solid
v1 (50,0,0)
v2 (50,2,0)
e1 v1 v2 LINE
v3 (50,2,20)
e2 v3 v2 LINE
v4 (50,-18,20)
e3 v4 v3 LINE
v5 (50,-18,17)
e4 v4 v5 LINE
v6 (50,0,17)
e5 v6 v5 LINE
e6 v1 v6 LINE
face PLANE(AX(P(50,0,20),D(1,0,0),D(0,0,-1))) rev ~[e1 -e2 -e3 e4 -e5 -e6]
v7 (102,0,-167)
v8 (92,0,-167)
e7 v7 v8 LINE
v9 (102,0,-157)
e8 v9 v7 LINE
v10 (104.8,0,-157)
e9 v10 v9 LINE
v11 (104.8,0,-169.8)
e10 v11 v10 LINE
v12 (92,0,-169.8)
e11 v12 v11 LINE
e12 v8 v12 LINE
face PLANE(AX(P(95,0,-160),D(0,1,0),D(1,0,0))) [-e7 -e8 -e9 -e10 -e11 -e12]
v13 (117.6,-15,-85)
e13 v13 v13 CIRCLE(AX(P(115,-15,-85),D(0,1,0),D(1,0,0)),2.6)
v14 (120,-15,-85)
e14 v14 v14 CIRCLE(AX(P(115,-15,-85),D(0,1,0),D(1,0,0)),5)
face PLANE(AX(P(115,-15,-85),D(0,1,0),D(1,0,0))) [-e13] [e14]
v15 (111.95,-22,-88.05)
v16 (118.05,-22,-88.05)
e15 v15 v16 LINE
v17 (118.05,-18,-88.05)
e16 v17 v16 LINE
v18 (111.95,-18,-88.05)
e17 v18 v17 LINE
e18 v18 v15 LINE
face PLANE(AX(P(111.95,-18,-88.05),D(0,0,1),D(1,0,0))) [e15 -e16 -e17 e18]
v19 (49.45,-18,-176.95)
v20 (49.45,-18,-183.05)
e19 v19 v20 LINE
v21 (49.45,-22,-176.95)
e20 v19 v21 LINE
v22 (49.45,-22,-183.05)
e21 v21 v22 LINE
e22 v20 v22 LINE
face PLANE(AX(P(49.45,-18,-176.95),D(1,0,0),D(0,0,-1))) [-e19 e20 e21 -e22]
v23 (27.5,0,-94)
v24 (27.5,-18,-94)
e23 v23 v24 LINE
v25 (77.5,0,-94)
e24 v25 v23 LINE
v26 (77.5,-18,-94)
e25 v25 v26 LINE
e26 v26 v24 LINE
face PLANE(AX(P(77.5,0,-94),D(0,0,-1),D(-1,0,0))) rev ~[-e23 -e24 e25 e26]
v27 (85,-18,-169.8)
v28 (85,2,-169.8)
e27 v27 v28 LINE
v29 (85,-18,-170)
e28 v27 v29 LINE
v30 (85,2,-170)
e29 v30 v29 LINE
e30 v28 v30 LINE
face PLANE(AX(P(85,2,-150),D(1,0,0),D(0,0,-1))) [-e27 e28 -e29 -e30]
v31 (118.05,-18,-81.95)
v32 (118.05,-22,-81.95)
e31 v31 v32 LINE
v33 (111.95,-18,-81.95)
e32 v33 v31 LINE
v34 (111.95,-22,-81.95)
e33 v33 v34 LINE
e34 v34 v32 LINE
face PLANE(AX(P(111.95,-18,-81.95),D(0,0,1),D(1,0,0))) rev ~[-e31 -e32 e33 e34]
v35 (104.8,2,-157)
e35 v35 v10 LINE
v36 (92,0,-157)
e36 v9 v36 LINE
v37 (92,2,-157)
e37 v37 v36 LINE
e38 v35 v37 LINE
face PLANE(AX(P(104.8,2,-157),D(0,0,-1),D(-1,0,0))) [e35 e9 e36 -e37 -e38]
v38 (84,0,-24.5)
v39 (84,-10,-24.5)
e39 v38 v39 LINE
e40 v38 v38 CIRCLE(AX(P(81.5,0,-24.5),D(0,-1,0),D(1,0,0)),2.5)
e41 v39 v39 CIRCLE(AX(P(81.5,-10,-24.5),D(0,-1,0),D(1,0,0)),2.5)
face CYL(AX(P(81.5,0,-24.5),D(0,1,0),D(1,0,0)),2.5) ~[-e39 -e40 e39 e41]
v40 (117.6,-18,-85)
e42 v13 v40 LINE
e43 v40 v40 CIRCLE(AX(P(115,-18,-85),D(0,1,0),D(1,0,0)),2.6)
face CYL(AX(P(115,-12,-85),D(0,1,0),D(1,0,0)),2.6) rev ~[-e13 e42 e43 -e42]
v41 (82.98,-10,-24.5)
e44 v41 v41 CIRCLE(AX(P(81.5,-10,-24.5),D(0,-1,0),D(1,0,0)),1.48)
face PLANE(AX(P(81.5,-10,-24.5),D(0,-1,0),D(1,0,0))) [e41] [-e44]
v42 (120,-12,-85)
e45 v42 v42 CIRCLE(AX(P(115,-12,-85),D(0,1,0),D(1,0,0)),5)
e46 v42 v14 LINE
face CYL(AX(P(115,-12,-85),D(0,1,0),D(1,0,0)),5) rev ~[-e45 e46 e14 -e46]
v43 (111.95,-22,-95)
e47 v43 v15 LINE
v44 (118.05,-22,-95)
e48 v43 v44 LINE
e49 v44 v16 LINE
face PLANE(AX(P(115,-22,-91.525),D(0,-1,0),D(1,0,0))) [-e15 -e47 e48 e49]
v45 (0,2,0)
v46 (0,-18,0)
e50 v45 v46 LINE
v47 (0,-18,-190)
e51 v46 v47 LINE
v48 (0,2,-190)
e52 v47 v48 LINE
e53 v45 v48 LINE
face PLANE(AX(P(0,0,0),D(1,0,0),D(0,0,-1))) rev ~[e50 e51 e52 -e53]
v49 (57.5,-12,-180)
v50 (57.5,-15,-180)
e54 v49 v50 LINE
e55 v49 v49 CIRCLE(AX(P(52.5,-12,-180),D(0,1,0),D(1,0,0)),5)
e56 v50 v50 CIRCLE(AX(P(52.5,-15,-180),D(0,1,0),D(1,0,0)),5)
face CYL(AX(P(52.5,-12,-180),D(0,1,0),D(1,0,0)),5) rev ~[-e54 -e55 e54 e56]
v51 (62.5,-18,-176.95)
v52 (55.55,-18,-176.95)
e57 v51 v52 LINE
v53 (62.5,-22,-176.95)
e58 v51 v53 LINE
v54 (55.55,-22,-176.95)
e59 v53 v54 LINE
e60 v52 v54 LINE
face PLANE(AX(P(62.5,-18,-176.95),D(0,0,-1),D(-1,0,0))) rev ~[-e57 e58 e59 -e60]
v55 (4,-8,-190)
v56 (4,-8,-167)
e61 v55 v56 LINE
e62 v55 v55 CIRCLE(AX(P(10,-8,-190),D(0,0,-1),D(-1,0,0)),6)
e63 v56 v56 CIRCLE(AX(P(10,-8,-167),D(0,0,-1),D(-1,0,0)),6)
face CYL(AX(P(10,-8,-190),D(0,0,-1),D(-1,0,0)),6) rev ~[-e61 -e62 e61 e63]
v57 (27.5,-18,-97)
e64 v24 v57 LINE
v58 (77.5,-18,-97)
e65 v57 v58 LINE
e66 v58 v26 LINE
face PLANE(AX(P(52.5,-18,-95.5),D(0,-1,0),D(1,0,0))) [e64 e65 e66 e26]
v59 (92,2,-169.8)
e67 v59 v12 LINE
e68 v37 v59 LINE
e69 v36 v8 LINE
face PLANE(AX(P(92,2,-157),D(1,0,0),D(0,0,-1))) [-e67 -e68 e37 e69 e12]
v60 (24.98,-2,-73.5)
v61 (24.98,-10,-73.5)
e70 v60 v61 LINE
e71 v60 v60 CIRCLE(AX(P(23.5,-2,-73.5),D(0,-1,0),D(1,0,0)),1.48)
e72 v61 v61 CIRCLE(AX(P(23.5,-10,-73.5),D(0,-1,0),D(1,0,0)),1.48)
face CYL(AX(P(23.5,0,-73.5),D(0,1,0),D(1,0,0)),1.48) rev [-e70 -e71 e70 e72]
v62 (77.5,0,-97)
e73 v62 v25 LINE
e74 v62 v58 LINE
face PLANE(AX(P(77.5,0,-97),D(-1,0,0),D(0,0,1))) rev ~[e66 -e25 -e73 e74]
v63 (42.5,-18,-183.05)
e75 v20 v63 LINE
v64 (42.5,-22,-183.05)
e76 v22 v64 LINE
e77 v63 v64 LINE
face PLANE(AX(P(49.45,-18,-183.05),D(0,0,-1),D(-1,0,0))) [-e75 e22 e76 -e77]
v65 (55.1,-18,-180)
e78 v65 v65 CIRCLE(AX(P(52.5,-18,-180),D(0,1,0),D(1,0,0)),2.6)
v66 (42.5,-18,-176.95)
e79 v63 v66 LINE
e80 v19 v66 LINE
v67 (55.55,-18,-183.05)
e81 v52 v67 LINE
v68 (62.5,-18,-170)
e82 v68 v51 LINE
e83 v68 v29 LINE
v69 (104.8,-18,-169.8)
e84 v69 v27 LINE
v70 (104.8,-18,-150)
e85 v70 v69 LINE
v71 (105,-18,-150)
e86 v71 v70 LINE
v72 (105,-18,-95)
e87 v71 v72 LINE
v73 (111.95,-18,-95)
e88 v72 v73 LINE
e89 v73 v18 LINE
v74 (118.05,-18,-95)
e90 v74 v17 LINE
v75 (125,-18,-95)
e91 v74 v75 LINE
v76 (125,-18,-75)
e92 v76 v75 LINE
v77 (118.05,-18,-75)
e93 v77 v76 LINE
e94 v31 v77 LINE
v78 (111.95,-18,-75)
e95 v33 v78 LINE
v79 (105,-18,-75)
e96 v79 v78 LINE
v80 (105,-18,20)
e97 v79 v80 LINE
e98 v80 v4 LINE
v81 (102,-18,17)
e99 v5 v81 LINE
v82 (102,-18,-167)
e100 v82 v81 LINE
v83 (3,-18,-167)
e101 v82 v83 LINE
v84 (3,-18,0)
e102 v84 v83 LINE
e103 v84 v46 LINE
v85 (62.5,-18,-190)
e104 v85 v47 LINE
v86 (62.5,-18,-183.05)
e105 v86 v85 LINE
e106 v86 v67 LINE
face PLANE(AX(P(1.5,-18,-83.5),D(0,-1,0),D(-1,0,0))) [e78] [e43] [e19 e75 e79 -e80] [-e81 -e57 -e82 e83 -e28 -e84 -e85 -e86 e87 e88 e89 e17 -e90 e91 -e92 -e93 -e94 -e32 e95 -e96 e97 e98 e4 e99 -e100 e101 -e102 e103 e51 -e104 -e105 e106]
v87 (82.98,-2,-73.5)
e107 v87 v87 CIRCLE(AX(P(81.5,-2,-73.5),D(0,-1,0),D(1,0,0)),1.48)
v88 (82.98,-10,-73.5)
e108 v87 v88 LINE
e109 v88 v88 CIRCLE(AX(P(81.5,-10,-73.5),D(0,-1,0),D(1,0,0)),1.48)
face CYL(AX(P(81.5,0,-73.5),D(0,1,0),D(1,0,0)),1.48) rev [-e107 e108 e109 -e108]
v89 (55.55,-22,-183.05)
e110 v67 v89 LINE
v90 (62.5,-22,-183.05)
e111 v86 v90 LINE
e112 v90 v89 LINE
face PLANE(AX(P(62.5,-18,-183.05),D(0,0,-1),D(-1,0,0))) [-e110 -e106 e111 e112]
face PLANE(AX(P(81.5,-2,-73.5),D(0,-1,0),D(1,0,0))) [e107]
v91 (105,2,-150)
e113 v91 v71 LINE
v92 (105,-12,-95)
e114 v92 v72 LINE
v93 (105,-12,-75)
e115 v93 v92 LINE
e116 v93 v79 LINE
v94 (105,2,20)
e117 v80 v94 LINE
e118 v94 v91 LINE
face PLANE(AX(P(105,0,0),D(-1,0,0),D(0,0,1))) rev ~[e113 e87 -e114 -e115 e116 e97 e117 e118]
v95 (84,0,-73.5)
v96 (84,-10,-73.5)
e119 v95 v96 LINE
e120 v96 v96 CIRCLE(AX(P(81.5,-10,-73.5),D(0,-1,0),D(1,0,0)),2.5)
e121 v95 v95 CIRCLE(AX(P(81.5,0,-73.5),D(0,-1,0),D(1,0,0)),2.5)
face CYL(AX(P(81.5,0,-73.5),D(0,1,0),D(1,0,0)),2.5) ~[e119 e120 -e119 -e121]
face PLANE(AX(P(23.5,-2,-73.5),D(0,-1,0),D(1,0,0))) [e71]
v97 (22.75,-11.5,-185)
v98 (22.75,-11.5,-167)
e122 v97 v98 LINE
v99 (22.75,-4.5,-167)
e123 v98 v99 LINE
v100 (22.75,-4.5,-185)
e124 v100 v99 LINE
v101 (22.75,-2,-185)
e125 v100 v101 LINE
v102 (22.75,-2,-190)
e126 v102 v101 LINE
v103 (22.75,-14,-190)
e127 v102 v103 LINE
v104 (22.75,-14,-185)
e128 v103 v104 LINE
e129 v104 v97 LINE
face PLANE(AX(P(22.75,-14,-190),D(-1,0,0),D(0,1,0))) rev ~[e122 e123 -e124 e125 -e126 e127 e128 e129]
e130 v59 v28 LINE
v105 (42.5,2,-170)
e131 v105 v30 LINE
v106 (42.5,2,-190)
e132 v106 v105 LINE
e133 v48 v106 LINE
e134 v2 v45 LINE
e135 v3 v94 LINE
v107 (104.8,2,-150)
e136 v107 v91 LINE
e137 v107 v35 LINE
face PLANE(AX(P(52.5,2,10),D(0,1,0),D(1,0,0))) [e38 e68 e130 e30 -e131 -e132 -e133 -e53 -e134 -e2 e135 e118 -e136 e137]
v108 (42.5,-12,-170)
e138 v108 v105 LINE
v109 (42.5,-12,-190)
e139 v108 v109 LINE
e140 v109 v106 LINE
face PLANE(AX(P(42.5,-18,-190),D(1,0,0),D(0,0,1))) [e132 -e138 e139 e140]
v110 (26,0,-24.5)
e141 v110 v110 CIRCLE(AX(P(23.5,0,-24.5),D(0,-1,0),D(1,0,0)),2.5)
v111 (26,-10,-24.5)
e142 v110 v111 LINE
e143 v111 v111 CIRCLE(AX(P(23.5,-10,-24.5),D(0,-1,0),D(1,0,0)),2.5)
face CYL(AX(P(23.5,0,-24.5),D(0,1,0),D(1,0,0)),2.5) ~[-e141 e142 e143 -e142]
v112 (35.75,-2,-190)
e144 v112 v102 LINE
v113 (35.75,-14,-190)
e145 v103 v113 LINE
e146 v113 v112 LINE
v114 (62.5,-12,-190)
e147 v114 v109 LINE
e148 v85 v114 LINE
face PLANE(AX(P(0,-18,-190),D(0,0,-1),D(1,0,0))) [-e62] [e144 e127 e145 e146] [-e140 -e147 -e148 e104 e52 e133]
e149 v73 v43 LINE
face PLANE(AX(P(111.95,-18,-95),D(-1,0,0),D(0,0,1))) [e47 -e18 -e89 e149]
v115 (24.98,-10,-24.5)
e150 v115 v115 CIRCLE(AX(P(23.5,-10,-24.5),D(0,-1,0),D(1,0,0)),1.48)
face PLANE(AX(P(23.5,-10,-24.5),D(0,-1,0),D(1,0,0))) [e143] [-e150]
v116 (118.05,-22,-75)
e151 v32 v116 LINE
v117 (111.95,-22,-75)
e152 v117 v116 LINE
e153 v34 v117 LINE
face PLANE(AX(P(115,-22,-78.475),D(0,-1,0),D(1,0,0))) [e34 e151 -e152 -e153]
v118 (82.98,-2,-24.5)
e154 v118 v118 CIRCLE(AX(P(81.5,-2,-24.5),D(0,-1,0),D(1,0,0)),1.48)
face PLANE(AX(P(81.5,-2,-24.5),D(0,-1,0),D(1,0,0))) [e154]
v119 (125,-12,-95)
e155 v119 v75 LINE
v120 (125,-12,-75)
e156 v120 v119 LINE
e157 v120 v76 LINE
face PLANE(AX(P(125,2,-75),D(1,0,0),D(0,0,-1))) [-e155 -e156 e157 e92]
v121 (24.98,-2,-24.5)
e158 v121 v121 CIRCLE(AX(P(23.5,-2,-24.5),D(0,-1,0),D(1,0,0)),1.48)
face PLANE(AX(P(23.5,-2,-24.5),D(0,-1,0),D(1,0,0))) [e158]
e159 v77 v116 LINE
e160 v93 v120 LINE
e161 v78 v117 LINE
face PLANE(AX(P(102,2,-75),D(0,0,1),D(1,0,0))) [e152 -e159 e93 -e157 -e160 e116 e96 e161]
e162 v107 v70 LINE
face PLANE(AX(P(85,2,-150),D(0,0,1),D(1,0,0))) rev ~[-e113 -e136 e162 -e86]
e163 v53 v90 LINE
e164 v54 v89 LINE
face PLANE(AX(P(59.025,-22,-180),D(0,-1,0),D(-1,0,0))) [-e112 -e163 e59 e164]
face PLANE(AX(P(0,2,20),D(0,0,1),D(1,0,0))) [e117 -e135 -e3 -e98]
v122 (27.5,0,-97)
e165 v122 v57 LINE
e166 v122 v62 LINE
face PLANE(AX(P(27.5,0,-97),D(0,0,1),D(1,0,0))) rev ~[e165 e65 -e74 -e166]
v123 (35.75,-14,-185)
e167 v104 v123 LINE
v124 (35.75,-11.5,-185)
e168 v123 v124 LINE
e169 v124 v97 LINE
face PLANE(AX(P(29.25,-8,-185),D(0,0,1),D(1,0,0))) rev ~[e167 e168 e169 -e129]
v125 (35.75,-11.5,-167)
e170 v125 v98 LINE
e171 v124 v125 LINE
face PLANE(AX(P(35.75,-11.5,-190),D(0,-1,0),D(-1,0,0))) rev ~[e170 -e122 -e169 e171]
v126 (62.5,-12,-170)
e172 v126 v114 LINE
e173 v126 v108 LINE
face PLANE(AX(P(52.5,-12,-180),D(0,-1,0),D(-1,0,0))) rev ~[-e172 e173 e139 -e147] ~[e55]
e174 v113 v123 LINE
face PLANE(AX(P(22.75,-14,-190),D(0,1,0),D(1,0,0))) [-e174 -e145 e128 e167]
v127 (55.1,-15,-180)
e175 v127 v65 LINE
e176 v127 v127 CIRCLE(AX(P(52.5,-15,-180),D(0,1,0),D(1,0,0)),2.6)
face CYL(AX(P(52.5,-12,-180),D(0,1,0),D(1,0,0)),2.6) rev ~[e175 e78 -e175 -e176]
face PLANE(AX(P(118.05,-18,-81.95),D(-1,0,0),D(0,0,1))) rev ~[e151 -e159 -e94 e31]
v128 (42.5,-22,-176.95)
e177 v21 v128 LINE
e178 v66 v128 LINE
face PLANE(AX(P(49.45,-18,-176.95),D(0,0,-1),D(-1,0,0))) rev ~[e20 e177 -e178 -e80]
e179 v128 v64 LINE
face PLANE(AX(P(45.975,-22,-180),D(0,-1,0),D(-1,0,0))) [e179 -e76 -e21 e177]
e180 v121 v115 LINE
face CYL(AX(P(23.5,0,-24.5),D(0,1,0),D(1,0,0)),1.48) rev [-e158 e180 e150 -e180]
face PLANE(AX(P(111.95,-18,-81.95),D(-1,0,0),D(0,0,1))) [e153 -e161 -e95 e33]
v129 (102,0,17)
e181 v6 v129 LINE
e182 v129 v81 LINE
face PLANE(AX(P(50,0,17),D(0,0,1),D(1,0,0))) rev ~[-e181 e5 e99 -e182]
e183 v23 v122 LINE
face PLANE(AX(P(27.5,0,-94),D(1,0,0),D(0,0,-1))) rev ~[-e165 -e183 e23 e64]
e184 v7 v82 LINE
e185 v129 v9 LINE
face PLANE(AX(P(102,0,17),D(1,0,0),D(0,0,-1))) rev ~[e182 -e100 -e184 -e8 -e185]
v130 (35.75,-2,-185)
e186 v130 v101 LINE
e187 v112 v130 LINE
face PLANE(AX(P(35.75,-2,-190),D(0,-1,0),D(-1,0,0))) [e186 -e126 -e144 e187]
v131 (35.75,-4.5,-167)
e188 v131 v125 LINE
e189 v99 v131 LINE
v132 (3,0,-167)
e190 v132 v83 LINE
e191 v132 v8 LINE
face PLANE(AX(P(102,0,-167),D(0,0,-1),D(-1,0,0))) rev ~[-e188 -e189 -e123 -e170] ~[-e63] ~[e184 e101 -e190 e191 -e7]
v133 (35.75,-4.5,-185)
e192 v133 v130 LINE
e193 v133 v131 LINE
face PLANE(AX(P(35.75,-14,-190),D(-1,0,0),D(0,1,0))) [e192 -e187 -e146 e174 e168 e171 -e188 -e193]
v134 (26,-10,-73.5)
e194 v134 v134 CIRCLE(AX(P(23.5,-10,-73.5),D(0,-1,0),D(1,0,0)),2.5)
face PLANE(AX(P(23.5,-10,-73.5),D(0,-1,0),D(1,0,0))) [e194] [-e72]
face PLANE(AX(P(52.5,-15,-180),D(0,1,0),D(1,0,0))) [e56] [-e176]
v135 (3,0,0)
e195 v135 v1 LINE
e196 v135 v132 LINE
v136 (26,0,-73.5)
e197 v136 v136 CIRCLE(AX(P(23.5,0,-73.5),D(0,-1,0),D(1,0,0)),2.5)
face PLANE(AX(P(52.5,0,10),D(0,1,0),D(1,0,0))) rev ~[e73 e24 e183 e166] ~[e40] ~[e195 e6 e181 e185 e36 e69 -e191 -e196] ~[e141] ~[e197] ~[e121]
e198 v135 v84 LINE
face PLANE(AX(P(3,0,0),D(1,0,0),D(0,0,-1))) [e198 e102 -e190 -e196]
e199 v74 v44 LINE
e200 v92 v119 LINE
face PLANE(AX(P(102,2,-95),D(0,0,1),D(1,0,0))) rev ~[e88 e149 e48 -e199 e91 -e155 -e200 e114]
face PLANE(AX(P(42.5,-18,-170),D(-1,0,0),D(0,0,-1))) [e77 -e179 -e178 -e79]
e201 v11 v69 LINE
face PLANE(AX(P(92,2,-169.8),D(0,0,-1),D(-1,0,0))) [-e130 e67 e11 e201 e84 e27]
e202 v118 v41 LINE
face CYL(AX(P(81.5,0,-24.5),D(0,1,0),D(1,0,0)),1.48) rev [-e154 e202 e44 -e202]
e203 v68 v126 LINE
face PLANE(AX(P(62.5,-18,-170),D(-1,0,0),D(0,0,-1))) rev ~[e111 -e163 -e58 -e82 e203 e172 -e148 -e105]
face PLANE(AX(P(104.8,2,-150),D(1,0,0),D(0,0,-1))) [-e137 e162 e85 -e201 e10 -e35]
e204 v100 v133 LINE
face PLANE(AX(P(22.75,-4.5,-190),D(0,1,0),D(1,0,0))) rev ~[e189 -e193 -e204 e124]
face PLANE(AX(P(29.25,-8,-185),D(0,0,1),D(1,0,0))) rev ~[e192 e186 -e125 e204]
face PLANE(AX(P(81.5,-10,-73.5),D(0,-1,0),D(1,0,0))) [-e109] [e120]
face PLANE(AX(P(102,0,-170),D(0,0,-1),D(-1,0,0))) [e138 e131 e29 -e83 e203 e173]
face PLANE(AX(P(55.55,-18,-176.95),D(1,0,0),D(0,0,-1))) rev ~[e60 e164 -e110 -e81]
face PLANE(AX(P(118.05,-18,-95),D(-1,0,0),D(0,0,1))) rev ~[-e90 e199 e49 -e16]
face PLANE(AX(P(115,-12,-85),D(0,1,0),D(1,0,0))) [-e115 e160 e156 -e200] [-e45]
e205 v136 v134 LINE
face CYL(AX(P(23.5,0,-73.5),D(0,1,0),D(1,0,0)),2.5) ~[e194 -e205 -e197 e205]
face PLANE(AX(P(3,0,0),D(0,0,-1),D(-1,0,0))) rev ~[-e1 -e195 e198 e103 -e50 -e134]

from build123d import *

# Parameters (mm, degrees)
SKETCH_1_W           = 105
SKETCH_1_H           = 170
EXTRUDE_1_DEPTH      = 2
SKETCH_2_W           = 23
SKETCH_2_H           = 20
EXTRUDE_2_DEPTH      = 20
SKETCH_3_W           = 20
SKETCH_3_H           = 20
CUT_EXTRUDE_1_DEPTH  = 14
SKETCH_4_R           = 2.6
CUT_EXTRUDE_2_DEPTH  = 14
SKETCH_5_R           = 5
CUT_EXTRUDE_3_DEPTH  = 3
SKETCH_6_W           = 3
SKETCH_6_H           = 75
EXTRUDE_3_DEPTH      = 18
SKETCH_7_W           = 102
SKETCH_7_H           = 3
EXTRUDE_4_DEPTH      = 18
SKETCH_8_W           = 20
SKETCH_8_H           = 20
EXTRUDE_5_DEPTH      = 6
SKETCH_9_R           = 2.6
CUT_EXTRUDE_4_DEPTH  = 6
SKETCH_10_R          = 5
CUT_EXTRUDE_5_DEPTH  = 3
SKETCH_11_W          = 6.1
SKETCH_11_H          = 6.95
EXTRUDE_6_DEPTH      = 4
SKETCH_12_W          = 6.95
SKETCH_12_H          = 6.1
EXTRUDE_7_DEPTH      = 4
SKETCH_13_W          = 55
SKETCH_13_H          = 3
EXTRUDE_8_DEPTH      = 20
SKETCH_14_W          = 20
SKETCH_14_H          = 20
CUT_EXTRUDE_6_DEPTH  = 2
SKETCH_15_W          = 42.5
SKETCH_15_H          = 20
EXTRUDE_9_DEPTH      = 20
SKETCH_16_R          = 6
CUT_EXTRUDE_7_DEPTH  = 30
CUT_EXTRUDE_9_DEPTH  = 30
CUT_EXTRUDE_10_DEPTH = 30
EXTRUDE_17_DEPTH     = 2
CUT_EXTRUDE_11_DEPTH = 5
SKETCH_25_W          = 52
SKETCH_25_H          = 3
CUT_EXTRUDE_12_DEPTH = 18
SKETCH_26_W          = 105
SKETCH_26_H          = 20
EXTRUDE_18_DEPTH     = 2
EXTRUDE_19_DEPTH     = 18
SKETCH_28_W          = 50
SKETCH_28_H          = 20
CUT_EXTRUDE_13_DEPTH = 18
SKETCH_29_W          = 3
SKETCH_29_H          = 167
EXTRUDE_20_DEPTH     = 18
SKETCH_30_R          = 2.5
SKETCH_30_R_2        = 1.48
EXTRUDE_21_DEPTH     = 10
SKETCH_31_R          = 1.48
EXTRUDE_22_DEPTH     = 2
EXTRUDE_24_DEPTH     = 18


with BuildPart() as part:
    # 草图1 → 凸台-拉伸1 (new body)
    with BuildSketch(Plane(origin=(0, 0, 0), x_dir=(1, 0, 0), z_dir=(0, 1, 0))):
        with Locations((52.5, 85)):
            Rectangle(SKETCH_1_W, SKETCH_1_H)
    extrude(amount=EXTRUDE_1_DEPTH)

    # 草图2 → 凸台-拉伸2 (add)
    with BuildSketch(Plane(origin=(0, 2, 0), x_dir=(1, 0, 0), z_dir=(0, 1, 0))):
        with Locations((113.5, 85)):
            Rectangle(SKETCH_2_W, SKETCH_2_H)
    extrude(amount=-EXTRUDE_2_DEPTH)

    # 草图3 → 切除-拉伸1 (cut)
    with BuildSketch(Plane(origin=(0, 2, 0), x_dir=(1, 0, 0), z_dir=(0, 1, 0))):
        with Locations((115, 85)):
            Rectangle(SKETCH_3_W, SKETCH_3_H)
    extrude(amount=-CUT_EXTRUDE_1_DEPTH, mode=Mode.SUBTRACT)

    # 草图4 → 切除-拉伸2 (cut)
    with BuildSketch(Plane(origin=(0, -12, 0), x_dir=(1, 0, 0), z_dir=(0, 1, 0))):
        with Locations((115, 85)):
            Circle(SKETCH_4_R)
    extrude(amount=-CUT_EXTRUDE_2_DEPTH, mode=Mode.SUBTRACT)

    # 草图5 → 切除-拉伸3 (cut)
    with BuildSketch(Plane(origin=(0, -12, 0), x_dir=(1, 0, 0), z_dir=(0, 1, 0))):
        with Locations((115, 85)):
            Circle(SKETCH_5_R)
    extrude(amount=-CUT_EXTRUDE_3_DEPTH, mode=Mode.SUBTRACT)

    # 草图6 → 凸台-拉伸3 (add)
    with BuildSketch(Plane.XZ):
        with Locations((103.5, -132.5)):
            Rectangle(SKETCH_6_W, SKETCH_6_H)
        with Locations((103.5, -37.5)):
            Rectangle(SKETCH_6_W, SKETCH_6_H)
    extrude(amount=EXTRUDE_3_DEPTH)

    # 草图7 → 凸台-拉伸4 (add)
    with BuildSketch(Plane(origin=(0, 0, 0), x_dir=(-1, 0, 0), z_dir=(0, -1, 0))):
        with Locations((-51, 168.5)):
            Rectangle(SKETCH_7_W, SKETCH_7_H)
    extrude(amount=EXTRUDE_4_DEPTH)

    # 草图8 → 凸台-拉伸5 (add)
    with BuildSketch(Plane(origin=(0, -18, 0), x_dir=(-1, 0, 0), z_dir=(0, -1, 0))):
        with Locations((-52.5, 180)):
            Rectangle(SKETCH_8_W, SKETCH_8_H)
    extrude(amount=-EXTRUDE_5_DEPTH)

    # 草图9 → 切除-拉伸4 (cut)
    with BuildSketch(Plane(origin=(0, -12, 0), x_dir=(1, 0, 0), z_dir=(0, 1, 0))):
        with Locations((52.5, 180)):
            Circle(SKETCH_9_R)
    extrude(amount=-CUT_EXTRUDE_4_DEPTH, mode=Mode.SUBTRACT)

    # 草图10 → 切除-拉伸5 (cut)
    with BuildSketch(Plane(origin=(0, -12, 0), x_dir=(1, 0, 0), z_dir=(0, 1, 0))):
        with Locations((52.5, 180)):
            Circle(SKETCH_10_R)
    extrude(amount=-CUT_EXTRUDE_5_DEPTH, mode=Mode.SUBTRACT)

    # 草图11 → 凸台-拉伸6 (add)
    with BuildSketch(Plane.XZ.offset(18)):
        with Locations((115, -78.475)):
            Rectangle(SKETCH_11_W, SKETCH_11_H)
        with Locations((115, -91.525)):
            Rectangle(SKETCH_11_W, SKETCH_11_H)
    extrude(amount=EXTRUDE_6_DEPTH)

    # 草图12 → 凸台-拉伸7 (add)
    with BuildSketch(Plane(origin=(0, -18, 0), x_dir=(-1, 0, 0), z_dir=(0, -1, 0))):
        with Locations((-59.025, 180)):
            Rectangle(SKETCH_12_W, SKETCH_12_H)
        with Locations((-45.975, 180)):
            Rectangle(SKETCH_12_W, SKETCH_12_H)
    extrude(amount=EXTRUDE_7_DEPTH)

    # 草图13 → 凸台-拉伸8 (add)
    with BuildSketch(Plane(origin=(0, 2, 0), x_dir=(1, 0, 0), z_dir=(0, 1, 0))):
        with Locations((77.5, 1.5)):
            Rectangle(SKETCH_13_W, SKETCH_13_H)
    extrude(amount=-EXTRUDE_8_DEPTH)

    # 草图14 → 切除-拉伸6 (cut)
    with BuildSketch(Plane(origin=(0, 2, 0), x_dir=(1, 0, 0), z_dir=(0, 1, 0))):
        with Locations((95, 160)):
            Rectangle(SKETCH_14_W, SKETCH_14_H)
    extrude(amount=-CUT_EXTRUDE_6_DEPTH, mode=Mode.SUBTRACT)

    # 草图15 → 凸台-拉伸9 (add)
    with BuildSketch(Plane.XZ.offset(18)):
        with Locations((21.25, -180)):
            Rectangle(SKETCH_15_W, SKETCH_15_H)
    extrude(amount=-EXTRUDE_9_DEPTH)

    # 草图16 → 切除-拉伸7 (cut)
    with BuildSketch(Plane(origin=(0, 0, -190), x_dir=(-1, 0, 0), z_dir=(0, 0, -1))):
        with Locations((-10, -8)):
            Circle(SKETCH_16_R)
    extrude(amount=-CUT_EXTRUDE_7_DEPTH, mode=Mode.SUBTRACT)

    # 草图17 → 切除-拉伸9 (cut)
    with BuildSketch(Plane(origin=(0, 0, -190), x_dir=(-1, 0, 0), z_dir=(0, 0, -1))):
        Polygon((-22.75, -4.5), (-29.25, -4.5), (-35.75, -4.5), (-35.75, -11.5), (-29.25, -11.5), (-22.75, -11.5), align=None)
    extrude(amount=-CUT_EXTRUDE_9_DEPTH, mode=Mode.SUBTRACT)

    # 草图19 → 切除-拉伸10 (cut)
    with BuildSketch(Plane(origin=(0, 0, 0), x_dir=(1, 0, 0), z_dir=(0, 1, 0))):
        Polygon((105, 150), (105, 170), (85, 170), (85, 169.8), (104.8, 169.8), (104.8, 150), align=None)
    extrude(amount=-CUT_EXTRUDE_10_DEPTH, mode=Mode.SUBTRACT)

    # 草图21 → 凸台-拉伸17 (add)
    with BuildSketch(Plane(origin=(0, 2, 0), x_dir=(1, 0, 0), z_dir=(0, 1, 0))):
        Polygon((102, 157), (92, 157), (92, 167), (92, 169.8), (85, 169.8), (85, 167), (85, 150), (102, 150), (104.8, 150), (104.8, 157), align=None)
    extrude(amount=-EXTRUDE_17_DEPTH)

    # 草图23 → 切除-拉伸11 (cut)
    with BuildSketch(Plane(origin=(0, 0, -190), x_dir=(-1, 0, 0), z_dir=(0, 0, -1))):
        Polygon((-22.75, -11.5), (-22.75, -14), (-35.75, -14), (-35.75, -2), (-22.75, -2), align=None)
    extrude(amount=-CUT_EXTRUDE_11_DEPTH, mode=Mode.SUBTRACT)

    # 草图25 → 切除-拉伸12 (cut)
    with BuildSketch(Plane(origin=(0, -18, 0), x_dir=(-1, 0, 0), z_dir=(0, -1, 0))):
        with Locations((-76, 1.5)):
            Rectangle(SKETCH_25_W, SKETCH_25_H)
    extrude(amount=-CUT_EXTRUDE_12_DEPTH, mode=Mode.SUBTRACT)

    # 草图26 → 凸台-拉伸18 (add)
    with BuildSketch(Plane(origin=(0, 2, 0), x_dir=(1, 0, 0), z_dir=(0, 1, 0))):
        with Locations((52.5, -10)):
            Rectangle(SKETCH_26_W, SKETCH_26_H)
    extrude(amount=-EXTRUDE_18_DEPTH)

    # 草图27 → 凸台-拉伸19 (add)
    with BuildSketch(Plane(origin=(0, 0, 0), x_dir=(-1, 0, 0), z_dir=(0, -1, 0))):
        Polygon((-102, -17), (-102, 0), (-105, 0), (-105, -20), (-50, -20), (-50, -17), align=None)
    extrude(amount=EXTRUDE_19_DEPTH)

    # 草图28 → 切除-拉伸13 (cut)
    with BuildSketch(Plane.XZ):
        with Locations((25, 10)):
            Rectangle(SKETCH_28_W, SKETCH_28_H)
    extrude(amount=-CUT_EXTRUDE_13_DEPTH, mode=Mode.SUBTRACT)

    # 草图29 → 凸台-拉伸20 (add)
    with BuildSketch(Plane(origin=(0, 0, 0), x_dir=(-1, 0, 0), z_dir=(0, -1, 0))):
        with Locations((-1.5, 83.5)):
            Rectangle(SKETCH_29_W, SKETCH_29_H)
    extrude(amount=EXTRUDE_20_DEPTH)

    # 草图30 → 凸台-拉伸21 (add)
    # profile 1 of 4: a face of its own
    with BuildSketch(Plane.XZ):
        with Locations((23.5, -24.5)):
            Circle(SKETCH_30_R)
        with Locations((23.5, -24.5)):
            Circle(SKETCH_30_R_2, mode=Mode.SUBTRACT)
    # profile 2 of 4: a face of its own
    with BuildSketch(Plane.XZ):
        with Locations((81.5, -24.5)):
            Circle(SKETCH_30_R)
        with Locations((81.5, -24.5)):
            Circle(SKETCH_30_R_2, mode=Mode.SUBTRACT)
    # profile 3 of 4: a face of its own
    with BuildSketch(Plane.XZ):
        with Locations((81.5, -73.5)):
            Circle(SKETCH_30_R)
        with Locations((81.5, -73.5)):
            Circle(SKETCH_30_R_2, mode=Mode.SUBTRACT)
    # profile 4 of 4: a face of its own
    with BuildSketch(Plane.XZ):
        with Locations((23.5, -73.5)):
            Circle(SKETCH_30_R)
        with Locations((23.5, -73.5)):
            Circle(SKETCH_30_R_2, mode=Mode.SUBTRACT)
    extrude(amount=EXTRUDE_21_DEPTH)

    # 草图31 → 凸台-拉伸22 (add)
    with BuildSketch(Plane.XZ):
        with Locations((23.5, -24.5)):
            Circle(SKETCH_31_R)
        with Locations((81.5, -24.5)):
            Circle(SKETCH_31_R)
        with Locations((81.5, -73.5)):
            Circle(SKETCH_31_R)
        with Locations((23.5, -73.5)):
            Circle(SKETCH_31_R)
    extrude(amount=EXTRUDE_22_DEPTH)

    # 草图33 → 凸台-拉伸24 (add)
    with BuildSketch(Plane.XZ):
        Polygon((27.5, -97), (52.5, -97), (77.5, -97), (77.5, -94), (27.5, -94), align=None)
    extrude(amount=EXTRUDE_24_DEPTH)


solid = part.part
